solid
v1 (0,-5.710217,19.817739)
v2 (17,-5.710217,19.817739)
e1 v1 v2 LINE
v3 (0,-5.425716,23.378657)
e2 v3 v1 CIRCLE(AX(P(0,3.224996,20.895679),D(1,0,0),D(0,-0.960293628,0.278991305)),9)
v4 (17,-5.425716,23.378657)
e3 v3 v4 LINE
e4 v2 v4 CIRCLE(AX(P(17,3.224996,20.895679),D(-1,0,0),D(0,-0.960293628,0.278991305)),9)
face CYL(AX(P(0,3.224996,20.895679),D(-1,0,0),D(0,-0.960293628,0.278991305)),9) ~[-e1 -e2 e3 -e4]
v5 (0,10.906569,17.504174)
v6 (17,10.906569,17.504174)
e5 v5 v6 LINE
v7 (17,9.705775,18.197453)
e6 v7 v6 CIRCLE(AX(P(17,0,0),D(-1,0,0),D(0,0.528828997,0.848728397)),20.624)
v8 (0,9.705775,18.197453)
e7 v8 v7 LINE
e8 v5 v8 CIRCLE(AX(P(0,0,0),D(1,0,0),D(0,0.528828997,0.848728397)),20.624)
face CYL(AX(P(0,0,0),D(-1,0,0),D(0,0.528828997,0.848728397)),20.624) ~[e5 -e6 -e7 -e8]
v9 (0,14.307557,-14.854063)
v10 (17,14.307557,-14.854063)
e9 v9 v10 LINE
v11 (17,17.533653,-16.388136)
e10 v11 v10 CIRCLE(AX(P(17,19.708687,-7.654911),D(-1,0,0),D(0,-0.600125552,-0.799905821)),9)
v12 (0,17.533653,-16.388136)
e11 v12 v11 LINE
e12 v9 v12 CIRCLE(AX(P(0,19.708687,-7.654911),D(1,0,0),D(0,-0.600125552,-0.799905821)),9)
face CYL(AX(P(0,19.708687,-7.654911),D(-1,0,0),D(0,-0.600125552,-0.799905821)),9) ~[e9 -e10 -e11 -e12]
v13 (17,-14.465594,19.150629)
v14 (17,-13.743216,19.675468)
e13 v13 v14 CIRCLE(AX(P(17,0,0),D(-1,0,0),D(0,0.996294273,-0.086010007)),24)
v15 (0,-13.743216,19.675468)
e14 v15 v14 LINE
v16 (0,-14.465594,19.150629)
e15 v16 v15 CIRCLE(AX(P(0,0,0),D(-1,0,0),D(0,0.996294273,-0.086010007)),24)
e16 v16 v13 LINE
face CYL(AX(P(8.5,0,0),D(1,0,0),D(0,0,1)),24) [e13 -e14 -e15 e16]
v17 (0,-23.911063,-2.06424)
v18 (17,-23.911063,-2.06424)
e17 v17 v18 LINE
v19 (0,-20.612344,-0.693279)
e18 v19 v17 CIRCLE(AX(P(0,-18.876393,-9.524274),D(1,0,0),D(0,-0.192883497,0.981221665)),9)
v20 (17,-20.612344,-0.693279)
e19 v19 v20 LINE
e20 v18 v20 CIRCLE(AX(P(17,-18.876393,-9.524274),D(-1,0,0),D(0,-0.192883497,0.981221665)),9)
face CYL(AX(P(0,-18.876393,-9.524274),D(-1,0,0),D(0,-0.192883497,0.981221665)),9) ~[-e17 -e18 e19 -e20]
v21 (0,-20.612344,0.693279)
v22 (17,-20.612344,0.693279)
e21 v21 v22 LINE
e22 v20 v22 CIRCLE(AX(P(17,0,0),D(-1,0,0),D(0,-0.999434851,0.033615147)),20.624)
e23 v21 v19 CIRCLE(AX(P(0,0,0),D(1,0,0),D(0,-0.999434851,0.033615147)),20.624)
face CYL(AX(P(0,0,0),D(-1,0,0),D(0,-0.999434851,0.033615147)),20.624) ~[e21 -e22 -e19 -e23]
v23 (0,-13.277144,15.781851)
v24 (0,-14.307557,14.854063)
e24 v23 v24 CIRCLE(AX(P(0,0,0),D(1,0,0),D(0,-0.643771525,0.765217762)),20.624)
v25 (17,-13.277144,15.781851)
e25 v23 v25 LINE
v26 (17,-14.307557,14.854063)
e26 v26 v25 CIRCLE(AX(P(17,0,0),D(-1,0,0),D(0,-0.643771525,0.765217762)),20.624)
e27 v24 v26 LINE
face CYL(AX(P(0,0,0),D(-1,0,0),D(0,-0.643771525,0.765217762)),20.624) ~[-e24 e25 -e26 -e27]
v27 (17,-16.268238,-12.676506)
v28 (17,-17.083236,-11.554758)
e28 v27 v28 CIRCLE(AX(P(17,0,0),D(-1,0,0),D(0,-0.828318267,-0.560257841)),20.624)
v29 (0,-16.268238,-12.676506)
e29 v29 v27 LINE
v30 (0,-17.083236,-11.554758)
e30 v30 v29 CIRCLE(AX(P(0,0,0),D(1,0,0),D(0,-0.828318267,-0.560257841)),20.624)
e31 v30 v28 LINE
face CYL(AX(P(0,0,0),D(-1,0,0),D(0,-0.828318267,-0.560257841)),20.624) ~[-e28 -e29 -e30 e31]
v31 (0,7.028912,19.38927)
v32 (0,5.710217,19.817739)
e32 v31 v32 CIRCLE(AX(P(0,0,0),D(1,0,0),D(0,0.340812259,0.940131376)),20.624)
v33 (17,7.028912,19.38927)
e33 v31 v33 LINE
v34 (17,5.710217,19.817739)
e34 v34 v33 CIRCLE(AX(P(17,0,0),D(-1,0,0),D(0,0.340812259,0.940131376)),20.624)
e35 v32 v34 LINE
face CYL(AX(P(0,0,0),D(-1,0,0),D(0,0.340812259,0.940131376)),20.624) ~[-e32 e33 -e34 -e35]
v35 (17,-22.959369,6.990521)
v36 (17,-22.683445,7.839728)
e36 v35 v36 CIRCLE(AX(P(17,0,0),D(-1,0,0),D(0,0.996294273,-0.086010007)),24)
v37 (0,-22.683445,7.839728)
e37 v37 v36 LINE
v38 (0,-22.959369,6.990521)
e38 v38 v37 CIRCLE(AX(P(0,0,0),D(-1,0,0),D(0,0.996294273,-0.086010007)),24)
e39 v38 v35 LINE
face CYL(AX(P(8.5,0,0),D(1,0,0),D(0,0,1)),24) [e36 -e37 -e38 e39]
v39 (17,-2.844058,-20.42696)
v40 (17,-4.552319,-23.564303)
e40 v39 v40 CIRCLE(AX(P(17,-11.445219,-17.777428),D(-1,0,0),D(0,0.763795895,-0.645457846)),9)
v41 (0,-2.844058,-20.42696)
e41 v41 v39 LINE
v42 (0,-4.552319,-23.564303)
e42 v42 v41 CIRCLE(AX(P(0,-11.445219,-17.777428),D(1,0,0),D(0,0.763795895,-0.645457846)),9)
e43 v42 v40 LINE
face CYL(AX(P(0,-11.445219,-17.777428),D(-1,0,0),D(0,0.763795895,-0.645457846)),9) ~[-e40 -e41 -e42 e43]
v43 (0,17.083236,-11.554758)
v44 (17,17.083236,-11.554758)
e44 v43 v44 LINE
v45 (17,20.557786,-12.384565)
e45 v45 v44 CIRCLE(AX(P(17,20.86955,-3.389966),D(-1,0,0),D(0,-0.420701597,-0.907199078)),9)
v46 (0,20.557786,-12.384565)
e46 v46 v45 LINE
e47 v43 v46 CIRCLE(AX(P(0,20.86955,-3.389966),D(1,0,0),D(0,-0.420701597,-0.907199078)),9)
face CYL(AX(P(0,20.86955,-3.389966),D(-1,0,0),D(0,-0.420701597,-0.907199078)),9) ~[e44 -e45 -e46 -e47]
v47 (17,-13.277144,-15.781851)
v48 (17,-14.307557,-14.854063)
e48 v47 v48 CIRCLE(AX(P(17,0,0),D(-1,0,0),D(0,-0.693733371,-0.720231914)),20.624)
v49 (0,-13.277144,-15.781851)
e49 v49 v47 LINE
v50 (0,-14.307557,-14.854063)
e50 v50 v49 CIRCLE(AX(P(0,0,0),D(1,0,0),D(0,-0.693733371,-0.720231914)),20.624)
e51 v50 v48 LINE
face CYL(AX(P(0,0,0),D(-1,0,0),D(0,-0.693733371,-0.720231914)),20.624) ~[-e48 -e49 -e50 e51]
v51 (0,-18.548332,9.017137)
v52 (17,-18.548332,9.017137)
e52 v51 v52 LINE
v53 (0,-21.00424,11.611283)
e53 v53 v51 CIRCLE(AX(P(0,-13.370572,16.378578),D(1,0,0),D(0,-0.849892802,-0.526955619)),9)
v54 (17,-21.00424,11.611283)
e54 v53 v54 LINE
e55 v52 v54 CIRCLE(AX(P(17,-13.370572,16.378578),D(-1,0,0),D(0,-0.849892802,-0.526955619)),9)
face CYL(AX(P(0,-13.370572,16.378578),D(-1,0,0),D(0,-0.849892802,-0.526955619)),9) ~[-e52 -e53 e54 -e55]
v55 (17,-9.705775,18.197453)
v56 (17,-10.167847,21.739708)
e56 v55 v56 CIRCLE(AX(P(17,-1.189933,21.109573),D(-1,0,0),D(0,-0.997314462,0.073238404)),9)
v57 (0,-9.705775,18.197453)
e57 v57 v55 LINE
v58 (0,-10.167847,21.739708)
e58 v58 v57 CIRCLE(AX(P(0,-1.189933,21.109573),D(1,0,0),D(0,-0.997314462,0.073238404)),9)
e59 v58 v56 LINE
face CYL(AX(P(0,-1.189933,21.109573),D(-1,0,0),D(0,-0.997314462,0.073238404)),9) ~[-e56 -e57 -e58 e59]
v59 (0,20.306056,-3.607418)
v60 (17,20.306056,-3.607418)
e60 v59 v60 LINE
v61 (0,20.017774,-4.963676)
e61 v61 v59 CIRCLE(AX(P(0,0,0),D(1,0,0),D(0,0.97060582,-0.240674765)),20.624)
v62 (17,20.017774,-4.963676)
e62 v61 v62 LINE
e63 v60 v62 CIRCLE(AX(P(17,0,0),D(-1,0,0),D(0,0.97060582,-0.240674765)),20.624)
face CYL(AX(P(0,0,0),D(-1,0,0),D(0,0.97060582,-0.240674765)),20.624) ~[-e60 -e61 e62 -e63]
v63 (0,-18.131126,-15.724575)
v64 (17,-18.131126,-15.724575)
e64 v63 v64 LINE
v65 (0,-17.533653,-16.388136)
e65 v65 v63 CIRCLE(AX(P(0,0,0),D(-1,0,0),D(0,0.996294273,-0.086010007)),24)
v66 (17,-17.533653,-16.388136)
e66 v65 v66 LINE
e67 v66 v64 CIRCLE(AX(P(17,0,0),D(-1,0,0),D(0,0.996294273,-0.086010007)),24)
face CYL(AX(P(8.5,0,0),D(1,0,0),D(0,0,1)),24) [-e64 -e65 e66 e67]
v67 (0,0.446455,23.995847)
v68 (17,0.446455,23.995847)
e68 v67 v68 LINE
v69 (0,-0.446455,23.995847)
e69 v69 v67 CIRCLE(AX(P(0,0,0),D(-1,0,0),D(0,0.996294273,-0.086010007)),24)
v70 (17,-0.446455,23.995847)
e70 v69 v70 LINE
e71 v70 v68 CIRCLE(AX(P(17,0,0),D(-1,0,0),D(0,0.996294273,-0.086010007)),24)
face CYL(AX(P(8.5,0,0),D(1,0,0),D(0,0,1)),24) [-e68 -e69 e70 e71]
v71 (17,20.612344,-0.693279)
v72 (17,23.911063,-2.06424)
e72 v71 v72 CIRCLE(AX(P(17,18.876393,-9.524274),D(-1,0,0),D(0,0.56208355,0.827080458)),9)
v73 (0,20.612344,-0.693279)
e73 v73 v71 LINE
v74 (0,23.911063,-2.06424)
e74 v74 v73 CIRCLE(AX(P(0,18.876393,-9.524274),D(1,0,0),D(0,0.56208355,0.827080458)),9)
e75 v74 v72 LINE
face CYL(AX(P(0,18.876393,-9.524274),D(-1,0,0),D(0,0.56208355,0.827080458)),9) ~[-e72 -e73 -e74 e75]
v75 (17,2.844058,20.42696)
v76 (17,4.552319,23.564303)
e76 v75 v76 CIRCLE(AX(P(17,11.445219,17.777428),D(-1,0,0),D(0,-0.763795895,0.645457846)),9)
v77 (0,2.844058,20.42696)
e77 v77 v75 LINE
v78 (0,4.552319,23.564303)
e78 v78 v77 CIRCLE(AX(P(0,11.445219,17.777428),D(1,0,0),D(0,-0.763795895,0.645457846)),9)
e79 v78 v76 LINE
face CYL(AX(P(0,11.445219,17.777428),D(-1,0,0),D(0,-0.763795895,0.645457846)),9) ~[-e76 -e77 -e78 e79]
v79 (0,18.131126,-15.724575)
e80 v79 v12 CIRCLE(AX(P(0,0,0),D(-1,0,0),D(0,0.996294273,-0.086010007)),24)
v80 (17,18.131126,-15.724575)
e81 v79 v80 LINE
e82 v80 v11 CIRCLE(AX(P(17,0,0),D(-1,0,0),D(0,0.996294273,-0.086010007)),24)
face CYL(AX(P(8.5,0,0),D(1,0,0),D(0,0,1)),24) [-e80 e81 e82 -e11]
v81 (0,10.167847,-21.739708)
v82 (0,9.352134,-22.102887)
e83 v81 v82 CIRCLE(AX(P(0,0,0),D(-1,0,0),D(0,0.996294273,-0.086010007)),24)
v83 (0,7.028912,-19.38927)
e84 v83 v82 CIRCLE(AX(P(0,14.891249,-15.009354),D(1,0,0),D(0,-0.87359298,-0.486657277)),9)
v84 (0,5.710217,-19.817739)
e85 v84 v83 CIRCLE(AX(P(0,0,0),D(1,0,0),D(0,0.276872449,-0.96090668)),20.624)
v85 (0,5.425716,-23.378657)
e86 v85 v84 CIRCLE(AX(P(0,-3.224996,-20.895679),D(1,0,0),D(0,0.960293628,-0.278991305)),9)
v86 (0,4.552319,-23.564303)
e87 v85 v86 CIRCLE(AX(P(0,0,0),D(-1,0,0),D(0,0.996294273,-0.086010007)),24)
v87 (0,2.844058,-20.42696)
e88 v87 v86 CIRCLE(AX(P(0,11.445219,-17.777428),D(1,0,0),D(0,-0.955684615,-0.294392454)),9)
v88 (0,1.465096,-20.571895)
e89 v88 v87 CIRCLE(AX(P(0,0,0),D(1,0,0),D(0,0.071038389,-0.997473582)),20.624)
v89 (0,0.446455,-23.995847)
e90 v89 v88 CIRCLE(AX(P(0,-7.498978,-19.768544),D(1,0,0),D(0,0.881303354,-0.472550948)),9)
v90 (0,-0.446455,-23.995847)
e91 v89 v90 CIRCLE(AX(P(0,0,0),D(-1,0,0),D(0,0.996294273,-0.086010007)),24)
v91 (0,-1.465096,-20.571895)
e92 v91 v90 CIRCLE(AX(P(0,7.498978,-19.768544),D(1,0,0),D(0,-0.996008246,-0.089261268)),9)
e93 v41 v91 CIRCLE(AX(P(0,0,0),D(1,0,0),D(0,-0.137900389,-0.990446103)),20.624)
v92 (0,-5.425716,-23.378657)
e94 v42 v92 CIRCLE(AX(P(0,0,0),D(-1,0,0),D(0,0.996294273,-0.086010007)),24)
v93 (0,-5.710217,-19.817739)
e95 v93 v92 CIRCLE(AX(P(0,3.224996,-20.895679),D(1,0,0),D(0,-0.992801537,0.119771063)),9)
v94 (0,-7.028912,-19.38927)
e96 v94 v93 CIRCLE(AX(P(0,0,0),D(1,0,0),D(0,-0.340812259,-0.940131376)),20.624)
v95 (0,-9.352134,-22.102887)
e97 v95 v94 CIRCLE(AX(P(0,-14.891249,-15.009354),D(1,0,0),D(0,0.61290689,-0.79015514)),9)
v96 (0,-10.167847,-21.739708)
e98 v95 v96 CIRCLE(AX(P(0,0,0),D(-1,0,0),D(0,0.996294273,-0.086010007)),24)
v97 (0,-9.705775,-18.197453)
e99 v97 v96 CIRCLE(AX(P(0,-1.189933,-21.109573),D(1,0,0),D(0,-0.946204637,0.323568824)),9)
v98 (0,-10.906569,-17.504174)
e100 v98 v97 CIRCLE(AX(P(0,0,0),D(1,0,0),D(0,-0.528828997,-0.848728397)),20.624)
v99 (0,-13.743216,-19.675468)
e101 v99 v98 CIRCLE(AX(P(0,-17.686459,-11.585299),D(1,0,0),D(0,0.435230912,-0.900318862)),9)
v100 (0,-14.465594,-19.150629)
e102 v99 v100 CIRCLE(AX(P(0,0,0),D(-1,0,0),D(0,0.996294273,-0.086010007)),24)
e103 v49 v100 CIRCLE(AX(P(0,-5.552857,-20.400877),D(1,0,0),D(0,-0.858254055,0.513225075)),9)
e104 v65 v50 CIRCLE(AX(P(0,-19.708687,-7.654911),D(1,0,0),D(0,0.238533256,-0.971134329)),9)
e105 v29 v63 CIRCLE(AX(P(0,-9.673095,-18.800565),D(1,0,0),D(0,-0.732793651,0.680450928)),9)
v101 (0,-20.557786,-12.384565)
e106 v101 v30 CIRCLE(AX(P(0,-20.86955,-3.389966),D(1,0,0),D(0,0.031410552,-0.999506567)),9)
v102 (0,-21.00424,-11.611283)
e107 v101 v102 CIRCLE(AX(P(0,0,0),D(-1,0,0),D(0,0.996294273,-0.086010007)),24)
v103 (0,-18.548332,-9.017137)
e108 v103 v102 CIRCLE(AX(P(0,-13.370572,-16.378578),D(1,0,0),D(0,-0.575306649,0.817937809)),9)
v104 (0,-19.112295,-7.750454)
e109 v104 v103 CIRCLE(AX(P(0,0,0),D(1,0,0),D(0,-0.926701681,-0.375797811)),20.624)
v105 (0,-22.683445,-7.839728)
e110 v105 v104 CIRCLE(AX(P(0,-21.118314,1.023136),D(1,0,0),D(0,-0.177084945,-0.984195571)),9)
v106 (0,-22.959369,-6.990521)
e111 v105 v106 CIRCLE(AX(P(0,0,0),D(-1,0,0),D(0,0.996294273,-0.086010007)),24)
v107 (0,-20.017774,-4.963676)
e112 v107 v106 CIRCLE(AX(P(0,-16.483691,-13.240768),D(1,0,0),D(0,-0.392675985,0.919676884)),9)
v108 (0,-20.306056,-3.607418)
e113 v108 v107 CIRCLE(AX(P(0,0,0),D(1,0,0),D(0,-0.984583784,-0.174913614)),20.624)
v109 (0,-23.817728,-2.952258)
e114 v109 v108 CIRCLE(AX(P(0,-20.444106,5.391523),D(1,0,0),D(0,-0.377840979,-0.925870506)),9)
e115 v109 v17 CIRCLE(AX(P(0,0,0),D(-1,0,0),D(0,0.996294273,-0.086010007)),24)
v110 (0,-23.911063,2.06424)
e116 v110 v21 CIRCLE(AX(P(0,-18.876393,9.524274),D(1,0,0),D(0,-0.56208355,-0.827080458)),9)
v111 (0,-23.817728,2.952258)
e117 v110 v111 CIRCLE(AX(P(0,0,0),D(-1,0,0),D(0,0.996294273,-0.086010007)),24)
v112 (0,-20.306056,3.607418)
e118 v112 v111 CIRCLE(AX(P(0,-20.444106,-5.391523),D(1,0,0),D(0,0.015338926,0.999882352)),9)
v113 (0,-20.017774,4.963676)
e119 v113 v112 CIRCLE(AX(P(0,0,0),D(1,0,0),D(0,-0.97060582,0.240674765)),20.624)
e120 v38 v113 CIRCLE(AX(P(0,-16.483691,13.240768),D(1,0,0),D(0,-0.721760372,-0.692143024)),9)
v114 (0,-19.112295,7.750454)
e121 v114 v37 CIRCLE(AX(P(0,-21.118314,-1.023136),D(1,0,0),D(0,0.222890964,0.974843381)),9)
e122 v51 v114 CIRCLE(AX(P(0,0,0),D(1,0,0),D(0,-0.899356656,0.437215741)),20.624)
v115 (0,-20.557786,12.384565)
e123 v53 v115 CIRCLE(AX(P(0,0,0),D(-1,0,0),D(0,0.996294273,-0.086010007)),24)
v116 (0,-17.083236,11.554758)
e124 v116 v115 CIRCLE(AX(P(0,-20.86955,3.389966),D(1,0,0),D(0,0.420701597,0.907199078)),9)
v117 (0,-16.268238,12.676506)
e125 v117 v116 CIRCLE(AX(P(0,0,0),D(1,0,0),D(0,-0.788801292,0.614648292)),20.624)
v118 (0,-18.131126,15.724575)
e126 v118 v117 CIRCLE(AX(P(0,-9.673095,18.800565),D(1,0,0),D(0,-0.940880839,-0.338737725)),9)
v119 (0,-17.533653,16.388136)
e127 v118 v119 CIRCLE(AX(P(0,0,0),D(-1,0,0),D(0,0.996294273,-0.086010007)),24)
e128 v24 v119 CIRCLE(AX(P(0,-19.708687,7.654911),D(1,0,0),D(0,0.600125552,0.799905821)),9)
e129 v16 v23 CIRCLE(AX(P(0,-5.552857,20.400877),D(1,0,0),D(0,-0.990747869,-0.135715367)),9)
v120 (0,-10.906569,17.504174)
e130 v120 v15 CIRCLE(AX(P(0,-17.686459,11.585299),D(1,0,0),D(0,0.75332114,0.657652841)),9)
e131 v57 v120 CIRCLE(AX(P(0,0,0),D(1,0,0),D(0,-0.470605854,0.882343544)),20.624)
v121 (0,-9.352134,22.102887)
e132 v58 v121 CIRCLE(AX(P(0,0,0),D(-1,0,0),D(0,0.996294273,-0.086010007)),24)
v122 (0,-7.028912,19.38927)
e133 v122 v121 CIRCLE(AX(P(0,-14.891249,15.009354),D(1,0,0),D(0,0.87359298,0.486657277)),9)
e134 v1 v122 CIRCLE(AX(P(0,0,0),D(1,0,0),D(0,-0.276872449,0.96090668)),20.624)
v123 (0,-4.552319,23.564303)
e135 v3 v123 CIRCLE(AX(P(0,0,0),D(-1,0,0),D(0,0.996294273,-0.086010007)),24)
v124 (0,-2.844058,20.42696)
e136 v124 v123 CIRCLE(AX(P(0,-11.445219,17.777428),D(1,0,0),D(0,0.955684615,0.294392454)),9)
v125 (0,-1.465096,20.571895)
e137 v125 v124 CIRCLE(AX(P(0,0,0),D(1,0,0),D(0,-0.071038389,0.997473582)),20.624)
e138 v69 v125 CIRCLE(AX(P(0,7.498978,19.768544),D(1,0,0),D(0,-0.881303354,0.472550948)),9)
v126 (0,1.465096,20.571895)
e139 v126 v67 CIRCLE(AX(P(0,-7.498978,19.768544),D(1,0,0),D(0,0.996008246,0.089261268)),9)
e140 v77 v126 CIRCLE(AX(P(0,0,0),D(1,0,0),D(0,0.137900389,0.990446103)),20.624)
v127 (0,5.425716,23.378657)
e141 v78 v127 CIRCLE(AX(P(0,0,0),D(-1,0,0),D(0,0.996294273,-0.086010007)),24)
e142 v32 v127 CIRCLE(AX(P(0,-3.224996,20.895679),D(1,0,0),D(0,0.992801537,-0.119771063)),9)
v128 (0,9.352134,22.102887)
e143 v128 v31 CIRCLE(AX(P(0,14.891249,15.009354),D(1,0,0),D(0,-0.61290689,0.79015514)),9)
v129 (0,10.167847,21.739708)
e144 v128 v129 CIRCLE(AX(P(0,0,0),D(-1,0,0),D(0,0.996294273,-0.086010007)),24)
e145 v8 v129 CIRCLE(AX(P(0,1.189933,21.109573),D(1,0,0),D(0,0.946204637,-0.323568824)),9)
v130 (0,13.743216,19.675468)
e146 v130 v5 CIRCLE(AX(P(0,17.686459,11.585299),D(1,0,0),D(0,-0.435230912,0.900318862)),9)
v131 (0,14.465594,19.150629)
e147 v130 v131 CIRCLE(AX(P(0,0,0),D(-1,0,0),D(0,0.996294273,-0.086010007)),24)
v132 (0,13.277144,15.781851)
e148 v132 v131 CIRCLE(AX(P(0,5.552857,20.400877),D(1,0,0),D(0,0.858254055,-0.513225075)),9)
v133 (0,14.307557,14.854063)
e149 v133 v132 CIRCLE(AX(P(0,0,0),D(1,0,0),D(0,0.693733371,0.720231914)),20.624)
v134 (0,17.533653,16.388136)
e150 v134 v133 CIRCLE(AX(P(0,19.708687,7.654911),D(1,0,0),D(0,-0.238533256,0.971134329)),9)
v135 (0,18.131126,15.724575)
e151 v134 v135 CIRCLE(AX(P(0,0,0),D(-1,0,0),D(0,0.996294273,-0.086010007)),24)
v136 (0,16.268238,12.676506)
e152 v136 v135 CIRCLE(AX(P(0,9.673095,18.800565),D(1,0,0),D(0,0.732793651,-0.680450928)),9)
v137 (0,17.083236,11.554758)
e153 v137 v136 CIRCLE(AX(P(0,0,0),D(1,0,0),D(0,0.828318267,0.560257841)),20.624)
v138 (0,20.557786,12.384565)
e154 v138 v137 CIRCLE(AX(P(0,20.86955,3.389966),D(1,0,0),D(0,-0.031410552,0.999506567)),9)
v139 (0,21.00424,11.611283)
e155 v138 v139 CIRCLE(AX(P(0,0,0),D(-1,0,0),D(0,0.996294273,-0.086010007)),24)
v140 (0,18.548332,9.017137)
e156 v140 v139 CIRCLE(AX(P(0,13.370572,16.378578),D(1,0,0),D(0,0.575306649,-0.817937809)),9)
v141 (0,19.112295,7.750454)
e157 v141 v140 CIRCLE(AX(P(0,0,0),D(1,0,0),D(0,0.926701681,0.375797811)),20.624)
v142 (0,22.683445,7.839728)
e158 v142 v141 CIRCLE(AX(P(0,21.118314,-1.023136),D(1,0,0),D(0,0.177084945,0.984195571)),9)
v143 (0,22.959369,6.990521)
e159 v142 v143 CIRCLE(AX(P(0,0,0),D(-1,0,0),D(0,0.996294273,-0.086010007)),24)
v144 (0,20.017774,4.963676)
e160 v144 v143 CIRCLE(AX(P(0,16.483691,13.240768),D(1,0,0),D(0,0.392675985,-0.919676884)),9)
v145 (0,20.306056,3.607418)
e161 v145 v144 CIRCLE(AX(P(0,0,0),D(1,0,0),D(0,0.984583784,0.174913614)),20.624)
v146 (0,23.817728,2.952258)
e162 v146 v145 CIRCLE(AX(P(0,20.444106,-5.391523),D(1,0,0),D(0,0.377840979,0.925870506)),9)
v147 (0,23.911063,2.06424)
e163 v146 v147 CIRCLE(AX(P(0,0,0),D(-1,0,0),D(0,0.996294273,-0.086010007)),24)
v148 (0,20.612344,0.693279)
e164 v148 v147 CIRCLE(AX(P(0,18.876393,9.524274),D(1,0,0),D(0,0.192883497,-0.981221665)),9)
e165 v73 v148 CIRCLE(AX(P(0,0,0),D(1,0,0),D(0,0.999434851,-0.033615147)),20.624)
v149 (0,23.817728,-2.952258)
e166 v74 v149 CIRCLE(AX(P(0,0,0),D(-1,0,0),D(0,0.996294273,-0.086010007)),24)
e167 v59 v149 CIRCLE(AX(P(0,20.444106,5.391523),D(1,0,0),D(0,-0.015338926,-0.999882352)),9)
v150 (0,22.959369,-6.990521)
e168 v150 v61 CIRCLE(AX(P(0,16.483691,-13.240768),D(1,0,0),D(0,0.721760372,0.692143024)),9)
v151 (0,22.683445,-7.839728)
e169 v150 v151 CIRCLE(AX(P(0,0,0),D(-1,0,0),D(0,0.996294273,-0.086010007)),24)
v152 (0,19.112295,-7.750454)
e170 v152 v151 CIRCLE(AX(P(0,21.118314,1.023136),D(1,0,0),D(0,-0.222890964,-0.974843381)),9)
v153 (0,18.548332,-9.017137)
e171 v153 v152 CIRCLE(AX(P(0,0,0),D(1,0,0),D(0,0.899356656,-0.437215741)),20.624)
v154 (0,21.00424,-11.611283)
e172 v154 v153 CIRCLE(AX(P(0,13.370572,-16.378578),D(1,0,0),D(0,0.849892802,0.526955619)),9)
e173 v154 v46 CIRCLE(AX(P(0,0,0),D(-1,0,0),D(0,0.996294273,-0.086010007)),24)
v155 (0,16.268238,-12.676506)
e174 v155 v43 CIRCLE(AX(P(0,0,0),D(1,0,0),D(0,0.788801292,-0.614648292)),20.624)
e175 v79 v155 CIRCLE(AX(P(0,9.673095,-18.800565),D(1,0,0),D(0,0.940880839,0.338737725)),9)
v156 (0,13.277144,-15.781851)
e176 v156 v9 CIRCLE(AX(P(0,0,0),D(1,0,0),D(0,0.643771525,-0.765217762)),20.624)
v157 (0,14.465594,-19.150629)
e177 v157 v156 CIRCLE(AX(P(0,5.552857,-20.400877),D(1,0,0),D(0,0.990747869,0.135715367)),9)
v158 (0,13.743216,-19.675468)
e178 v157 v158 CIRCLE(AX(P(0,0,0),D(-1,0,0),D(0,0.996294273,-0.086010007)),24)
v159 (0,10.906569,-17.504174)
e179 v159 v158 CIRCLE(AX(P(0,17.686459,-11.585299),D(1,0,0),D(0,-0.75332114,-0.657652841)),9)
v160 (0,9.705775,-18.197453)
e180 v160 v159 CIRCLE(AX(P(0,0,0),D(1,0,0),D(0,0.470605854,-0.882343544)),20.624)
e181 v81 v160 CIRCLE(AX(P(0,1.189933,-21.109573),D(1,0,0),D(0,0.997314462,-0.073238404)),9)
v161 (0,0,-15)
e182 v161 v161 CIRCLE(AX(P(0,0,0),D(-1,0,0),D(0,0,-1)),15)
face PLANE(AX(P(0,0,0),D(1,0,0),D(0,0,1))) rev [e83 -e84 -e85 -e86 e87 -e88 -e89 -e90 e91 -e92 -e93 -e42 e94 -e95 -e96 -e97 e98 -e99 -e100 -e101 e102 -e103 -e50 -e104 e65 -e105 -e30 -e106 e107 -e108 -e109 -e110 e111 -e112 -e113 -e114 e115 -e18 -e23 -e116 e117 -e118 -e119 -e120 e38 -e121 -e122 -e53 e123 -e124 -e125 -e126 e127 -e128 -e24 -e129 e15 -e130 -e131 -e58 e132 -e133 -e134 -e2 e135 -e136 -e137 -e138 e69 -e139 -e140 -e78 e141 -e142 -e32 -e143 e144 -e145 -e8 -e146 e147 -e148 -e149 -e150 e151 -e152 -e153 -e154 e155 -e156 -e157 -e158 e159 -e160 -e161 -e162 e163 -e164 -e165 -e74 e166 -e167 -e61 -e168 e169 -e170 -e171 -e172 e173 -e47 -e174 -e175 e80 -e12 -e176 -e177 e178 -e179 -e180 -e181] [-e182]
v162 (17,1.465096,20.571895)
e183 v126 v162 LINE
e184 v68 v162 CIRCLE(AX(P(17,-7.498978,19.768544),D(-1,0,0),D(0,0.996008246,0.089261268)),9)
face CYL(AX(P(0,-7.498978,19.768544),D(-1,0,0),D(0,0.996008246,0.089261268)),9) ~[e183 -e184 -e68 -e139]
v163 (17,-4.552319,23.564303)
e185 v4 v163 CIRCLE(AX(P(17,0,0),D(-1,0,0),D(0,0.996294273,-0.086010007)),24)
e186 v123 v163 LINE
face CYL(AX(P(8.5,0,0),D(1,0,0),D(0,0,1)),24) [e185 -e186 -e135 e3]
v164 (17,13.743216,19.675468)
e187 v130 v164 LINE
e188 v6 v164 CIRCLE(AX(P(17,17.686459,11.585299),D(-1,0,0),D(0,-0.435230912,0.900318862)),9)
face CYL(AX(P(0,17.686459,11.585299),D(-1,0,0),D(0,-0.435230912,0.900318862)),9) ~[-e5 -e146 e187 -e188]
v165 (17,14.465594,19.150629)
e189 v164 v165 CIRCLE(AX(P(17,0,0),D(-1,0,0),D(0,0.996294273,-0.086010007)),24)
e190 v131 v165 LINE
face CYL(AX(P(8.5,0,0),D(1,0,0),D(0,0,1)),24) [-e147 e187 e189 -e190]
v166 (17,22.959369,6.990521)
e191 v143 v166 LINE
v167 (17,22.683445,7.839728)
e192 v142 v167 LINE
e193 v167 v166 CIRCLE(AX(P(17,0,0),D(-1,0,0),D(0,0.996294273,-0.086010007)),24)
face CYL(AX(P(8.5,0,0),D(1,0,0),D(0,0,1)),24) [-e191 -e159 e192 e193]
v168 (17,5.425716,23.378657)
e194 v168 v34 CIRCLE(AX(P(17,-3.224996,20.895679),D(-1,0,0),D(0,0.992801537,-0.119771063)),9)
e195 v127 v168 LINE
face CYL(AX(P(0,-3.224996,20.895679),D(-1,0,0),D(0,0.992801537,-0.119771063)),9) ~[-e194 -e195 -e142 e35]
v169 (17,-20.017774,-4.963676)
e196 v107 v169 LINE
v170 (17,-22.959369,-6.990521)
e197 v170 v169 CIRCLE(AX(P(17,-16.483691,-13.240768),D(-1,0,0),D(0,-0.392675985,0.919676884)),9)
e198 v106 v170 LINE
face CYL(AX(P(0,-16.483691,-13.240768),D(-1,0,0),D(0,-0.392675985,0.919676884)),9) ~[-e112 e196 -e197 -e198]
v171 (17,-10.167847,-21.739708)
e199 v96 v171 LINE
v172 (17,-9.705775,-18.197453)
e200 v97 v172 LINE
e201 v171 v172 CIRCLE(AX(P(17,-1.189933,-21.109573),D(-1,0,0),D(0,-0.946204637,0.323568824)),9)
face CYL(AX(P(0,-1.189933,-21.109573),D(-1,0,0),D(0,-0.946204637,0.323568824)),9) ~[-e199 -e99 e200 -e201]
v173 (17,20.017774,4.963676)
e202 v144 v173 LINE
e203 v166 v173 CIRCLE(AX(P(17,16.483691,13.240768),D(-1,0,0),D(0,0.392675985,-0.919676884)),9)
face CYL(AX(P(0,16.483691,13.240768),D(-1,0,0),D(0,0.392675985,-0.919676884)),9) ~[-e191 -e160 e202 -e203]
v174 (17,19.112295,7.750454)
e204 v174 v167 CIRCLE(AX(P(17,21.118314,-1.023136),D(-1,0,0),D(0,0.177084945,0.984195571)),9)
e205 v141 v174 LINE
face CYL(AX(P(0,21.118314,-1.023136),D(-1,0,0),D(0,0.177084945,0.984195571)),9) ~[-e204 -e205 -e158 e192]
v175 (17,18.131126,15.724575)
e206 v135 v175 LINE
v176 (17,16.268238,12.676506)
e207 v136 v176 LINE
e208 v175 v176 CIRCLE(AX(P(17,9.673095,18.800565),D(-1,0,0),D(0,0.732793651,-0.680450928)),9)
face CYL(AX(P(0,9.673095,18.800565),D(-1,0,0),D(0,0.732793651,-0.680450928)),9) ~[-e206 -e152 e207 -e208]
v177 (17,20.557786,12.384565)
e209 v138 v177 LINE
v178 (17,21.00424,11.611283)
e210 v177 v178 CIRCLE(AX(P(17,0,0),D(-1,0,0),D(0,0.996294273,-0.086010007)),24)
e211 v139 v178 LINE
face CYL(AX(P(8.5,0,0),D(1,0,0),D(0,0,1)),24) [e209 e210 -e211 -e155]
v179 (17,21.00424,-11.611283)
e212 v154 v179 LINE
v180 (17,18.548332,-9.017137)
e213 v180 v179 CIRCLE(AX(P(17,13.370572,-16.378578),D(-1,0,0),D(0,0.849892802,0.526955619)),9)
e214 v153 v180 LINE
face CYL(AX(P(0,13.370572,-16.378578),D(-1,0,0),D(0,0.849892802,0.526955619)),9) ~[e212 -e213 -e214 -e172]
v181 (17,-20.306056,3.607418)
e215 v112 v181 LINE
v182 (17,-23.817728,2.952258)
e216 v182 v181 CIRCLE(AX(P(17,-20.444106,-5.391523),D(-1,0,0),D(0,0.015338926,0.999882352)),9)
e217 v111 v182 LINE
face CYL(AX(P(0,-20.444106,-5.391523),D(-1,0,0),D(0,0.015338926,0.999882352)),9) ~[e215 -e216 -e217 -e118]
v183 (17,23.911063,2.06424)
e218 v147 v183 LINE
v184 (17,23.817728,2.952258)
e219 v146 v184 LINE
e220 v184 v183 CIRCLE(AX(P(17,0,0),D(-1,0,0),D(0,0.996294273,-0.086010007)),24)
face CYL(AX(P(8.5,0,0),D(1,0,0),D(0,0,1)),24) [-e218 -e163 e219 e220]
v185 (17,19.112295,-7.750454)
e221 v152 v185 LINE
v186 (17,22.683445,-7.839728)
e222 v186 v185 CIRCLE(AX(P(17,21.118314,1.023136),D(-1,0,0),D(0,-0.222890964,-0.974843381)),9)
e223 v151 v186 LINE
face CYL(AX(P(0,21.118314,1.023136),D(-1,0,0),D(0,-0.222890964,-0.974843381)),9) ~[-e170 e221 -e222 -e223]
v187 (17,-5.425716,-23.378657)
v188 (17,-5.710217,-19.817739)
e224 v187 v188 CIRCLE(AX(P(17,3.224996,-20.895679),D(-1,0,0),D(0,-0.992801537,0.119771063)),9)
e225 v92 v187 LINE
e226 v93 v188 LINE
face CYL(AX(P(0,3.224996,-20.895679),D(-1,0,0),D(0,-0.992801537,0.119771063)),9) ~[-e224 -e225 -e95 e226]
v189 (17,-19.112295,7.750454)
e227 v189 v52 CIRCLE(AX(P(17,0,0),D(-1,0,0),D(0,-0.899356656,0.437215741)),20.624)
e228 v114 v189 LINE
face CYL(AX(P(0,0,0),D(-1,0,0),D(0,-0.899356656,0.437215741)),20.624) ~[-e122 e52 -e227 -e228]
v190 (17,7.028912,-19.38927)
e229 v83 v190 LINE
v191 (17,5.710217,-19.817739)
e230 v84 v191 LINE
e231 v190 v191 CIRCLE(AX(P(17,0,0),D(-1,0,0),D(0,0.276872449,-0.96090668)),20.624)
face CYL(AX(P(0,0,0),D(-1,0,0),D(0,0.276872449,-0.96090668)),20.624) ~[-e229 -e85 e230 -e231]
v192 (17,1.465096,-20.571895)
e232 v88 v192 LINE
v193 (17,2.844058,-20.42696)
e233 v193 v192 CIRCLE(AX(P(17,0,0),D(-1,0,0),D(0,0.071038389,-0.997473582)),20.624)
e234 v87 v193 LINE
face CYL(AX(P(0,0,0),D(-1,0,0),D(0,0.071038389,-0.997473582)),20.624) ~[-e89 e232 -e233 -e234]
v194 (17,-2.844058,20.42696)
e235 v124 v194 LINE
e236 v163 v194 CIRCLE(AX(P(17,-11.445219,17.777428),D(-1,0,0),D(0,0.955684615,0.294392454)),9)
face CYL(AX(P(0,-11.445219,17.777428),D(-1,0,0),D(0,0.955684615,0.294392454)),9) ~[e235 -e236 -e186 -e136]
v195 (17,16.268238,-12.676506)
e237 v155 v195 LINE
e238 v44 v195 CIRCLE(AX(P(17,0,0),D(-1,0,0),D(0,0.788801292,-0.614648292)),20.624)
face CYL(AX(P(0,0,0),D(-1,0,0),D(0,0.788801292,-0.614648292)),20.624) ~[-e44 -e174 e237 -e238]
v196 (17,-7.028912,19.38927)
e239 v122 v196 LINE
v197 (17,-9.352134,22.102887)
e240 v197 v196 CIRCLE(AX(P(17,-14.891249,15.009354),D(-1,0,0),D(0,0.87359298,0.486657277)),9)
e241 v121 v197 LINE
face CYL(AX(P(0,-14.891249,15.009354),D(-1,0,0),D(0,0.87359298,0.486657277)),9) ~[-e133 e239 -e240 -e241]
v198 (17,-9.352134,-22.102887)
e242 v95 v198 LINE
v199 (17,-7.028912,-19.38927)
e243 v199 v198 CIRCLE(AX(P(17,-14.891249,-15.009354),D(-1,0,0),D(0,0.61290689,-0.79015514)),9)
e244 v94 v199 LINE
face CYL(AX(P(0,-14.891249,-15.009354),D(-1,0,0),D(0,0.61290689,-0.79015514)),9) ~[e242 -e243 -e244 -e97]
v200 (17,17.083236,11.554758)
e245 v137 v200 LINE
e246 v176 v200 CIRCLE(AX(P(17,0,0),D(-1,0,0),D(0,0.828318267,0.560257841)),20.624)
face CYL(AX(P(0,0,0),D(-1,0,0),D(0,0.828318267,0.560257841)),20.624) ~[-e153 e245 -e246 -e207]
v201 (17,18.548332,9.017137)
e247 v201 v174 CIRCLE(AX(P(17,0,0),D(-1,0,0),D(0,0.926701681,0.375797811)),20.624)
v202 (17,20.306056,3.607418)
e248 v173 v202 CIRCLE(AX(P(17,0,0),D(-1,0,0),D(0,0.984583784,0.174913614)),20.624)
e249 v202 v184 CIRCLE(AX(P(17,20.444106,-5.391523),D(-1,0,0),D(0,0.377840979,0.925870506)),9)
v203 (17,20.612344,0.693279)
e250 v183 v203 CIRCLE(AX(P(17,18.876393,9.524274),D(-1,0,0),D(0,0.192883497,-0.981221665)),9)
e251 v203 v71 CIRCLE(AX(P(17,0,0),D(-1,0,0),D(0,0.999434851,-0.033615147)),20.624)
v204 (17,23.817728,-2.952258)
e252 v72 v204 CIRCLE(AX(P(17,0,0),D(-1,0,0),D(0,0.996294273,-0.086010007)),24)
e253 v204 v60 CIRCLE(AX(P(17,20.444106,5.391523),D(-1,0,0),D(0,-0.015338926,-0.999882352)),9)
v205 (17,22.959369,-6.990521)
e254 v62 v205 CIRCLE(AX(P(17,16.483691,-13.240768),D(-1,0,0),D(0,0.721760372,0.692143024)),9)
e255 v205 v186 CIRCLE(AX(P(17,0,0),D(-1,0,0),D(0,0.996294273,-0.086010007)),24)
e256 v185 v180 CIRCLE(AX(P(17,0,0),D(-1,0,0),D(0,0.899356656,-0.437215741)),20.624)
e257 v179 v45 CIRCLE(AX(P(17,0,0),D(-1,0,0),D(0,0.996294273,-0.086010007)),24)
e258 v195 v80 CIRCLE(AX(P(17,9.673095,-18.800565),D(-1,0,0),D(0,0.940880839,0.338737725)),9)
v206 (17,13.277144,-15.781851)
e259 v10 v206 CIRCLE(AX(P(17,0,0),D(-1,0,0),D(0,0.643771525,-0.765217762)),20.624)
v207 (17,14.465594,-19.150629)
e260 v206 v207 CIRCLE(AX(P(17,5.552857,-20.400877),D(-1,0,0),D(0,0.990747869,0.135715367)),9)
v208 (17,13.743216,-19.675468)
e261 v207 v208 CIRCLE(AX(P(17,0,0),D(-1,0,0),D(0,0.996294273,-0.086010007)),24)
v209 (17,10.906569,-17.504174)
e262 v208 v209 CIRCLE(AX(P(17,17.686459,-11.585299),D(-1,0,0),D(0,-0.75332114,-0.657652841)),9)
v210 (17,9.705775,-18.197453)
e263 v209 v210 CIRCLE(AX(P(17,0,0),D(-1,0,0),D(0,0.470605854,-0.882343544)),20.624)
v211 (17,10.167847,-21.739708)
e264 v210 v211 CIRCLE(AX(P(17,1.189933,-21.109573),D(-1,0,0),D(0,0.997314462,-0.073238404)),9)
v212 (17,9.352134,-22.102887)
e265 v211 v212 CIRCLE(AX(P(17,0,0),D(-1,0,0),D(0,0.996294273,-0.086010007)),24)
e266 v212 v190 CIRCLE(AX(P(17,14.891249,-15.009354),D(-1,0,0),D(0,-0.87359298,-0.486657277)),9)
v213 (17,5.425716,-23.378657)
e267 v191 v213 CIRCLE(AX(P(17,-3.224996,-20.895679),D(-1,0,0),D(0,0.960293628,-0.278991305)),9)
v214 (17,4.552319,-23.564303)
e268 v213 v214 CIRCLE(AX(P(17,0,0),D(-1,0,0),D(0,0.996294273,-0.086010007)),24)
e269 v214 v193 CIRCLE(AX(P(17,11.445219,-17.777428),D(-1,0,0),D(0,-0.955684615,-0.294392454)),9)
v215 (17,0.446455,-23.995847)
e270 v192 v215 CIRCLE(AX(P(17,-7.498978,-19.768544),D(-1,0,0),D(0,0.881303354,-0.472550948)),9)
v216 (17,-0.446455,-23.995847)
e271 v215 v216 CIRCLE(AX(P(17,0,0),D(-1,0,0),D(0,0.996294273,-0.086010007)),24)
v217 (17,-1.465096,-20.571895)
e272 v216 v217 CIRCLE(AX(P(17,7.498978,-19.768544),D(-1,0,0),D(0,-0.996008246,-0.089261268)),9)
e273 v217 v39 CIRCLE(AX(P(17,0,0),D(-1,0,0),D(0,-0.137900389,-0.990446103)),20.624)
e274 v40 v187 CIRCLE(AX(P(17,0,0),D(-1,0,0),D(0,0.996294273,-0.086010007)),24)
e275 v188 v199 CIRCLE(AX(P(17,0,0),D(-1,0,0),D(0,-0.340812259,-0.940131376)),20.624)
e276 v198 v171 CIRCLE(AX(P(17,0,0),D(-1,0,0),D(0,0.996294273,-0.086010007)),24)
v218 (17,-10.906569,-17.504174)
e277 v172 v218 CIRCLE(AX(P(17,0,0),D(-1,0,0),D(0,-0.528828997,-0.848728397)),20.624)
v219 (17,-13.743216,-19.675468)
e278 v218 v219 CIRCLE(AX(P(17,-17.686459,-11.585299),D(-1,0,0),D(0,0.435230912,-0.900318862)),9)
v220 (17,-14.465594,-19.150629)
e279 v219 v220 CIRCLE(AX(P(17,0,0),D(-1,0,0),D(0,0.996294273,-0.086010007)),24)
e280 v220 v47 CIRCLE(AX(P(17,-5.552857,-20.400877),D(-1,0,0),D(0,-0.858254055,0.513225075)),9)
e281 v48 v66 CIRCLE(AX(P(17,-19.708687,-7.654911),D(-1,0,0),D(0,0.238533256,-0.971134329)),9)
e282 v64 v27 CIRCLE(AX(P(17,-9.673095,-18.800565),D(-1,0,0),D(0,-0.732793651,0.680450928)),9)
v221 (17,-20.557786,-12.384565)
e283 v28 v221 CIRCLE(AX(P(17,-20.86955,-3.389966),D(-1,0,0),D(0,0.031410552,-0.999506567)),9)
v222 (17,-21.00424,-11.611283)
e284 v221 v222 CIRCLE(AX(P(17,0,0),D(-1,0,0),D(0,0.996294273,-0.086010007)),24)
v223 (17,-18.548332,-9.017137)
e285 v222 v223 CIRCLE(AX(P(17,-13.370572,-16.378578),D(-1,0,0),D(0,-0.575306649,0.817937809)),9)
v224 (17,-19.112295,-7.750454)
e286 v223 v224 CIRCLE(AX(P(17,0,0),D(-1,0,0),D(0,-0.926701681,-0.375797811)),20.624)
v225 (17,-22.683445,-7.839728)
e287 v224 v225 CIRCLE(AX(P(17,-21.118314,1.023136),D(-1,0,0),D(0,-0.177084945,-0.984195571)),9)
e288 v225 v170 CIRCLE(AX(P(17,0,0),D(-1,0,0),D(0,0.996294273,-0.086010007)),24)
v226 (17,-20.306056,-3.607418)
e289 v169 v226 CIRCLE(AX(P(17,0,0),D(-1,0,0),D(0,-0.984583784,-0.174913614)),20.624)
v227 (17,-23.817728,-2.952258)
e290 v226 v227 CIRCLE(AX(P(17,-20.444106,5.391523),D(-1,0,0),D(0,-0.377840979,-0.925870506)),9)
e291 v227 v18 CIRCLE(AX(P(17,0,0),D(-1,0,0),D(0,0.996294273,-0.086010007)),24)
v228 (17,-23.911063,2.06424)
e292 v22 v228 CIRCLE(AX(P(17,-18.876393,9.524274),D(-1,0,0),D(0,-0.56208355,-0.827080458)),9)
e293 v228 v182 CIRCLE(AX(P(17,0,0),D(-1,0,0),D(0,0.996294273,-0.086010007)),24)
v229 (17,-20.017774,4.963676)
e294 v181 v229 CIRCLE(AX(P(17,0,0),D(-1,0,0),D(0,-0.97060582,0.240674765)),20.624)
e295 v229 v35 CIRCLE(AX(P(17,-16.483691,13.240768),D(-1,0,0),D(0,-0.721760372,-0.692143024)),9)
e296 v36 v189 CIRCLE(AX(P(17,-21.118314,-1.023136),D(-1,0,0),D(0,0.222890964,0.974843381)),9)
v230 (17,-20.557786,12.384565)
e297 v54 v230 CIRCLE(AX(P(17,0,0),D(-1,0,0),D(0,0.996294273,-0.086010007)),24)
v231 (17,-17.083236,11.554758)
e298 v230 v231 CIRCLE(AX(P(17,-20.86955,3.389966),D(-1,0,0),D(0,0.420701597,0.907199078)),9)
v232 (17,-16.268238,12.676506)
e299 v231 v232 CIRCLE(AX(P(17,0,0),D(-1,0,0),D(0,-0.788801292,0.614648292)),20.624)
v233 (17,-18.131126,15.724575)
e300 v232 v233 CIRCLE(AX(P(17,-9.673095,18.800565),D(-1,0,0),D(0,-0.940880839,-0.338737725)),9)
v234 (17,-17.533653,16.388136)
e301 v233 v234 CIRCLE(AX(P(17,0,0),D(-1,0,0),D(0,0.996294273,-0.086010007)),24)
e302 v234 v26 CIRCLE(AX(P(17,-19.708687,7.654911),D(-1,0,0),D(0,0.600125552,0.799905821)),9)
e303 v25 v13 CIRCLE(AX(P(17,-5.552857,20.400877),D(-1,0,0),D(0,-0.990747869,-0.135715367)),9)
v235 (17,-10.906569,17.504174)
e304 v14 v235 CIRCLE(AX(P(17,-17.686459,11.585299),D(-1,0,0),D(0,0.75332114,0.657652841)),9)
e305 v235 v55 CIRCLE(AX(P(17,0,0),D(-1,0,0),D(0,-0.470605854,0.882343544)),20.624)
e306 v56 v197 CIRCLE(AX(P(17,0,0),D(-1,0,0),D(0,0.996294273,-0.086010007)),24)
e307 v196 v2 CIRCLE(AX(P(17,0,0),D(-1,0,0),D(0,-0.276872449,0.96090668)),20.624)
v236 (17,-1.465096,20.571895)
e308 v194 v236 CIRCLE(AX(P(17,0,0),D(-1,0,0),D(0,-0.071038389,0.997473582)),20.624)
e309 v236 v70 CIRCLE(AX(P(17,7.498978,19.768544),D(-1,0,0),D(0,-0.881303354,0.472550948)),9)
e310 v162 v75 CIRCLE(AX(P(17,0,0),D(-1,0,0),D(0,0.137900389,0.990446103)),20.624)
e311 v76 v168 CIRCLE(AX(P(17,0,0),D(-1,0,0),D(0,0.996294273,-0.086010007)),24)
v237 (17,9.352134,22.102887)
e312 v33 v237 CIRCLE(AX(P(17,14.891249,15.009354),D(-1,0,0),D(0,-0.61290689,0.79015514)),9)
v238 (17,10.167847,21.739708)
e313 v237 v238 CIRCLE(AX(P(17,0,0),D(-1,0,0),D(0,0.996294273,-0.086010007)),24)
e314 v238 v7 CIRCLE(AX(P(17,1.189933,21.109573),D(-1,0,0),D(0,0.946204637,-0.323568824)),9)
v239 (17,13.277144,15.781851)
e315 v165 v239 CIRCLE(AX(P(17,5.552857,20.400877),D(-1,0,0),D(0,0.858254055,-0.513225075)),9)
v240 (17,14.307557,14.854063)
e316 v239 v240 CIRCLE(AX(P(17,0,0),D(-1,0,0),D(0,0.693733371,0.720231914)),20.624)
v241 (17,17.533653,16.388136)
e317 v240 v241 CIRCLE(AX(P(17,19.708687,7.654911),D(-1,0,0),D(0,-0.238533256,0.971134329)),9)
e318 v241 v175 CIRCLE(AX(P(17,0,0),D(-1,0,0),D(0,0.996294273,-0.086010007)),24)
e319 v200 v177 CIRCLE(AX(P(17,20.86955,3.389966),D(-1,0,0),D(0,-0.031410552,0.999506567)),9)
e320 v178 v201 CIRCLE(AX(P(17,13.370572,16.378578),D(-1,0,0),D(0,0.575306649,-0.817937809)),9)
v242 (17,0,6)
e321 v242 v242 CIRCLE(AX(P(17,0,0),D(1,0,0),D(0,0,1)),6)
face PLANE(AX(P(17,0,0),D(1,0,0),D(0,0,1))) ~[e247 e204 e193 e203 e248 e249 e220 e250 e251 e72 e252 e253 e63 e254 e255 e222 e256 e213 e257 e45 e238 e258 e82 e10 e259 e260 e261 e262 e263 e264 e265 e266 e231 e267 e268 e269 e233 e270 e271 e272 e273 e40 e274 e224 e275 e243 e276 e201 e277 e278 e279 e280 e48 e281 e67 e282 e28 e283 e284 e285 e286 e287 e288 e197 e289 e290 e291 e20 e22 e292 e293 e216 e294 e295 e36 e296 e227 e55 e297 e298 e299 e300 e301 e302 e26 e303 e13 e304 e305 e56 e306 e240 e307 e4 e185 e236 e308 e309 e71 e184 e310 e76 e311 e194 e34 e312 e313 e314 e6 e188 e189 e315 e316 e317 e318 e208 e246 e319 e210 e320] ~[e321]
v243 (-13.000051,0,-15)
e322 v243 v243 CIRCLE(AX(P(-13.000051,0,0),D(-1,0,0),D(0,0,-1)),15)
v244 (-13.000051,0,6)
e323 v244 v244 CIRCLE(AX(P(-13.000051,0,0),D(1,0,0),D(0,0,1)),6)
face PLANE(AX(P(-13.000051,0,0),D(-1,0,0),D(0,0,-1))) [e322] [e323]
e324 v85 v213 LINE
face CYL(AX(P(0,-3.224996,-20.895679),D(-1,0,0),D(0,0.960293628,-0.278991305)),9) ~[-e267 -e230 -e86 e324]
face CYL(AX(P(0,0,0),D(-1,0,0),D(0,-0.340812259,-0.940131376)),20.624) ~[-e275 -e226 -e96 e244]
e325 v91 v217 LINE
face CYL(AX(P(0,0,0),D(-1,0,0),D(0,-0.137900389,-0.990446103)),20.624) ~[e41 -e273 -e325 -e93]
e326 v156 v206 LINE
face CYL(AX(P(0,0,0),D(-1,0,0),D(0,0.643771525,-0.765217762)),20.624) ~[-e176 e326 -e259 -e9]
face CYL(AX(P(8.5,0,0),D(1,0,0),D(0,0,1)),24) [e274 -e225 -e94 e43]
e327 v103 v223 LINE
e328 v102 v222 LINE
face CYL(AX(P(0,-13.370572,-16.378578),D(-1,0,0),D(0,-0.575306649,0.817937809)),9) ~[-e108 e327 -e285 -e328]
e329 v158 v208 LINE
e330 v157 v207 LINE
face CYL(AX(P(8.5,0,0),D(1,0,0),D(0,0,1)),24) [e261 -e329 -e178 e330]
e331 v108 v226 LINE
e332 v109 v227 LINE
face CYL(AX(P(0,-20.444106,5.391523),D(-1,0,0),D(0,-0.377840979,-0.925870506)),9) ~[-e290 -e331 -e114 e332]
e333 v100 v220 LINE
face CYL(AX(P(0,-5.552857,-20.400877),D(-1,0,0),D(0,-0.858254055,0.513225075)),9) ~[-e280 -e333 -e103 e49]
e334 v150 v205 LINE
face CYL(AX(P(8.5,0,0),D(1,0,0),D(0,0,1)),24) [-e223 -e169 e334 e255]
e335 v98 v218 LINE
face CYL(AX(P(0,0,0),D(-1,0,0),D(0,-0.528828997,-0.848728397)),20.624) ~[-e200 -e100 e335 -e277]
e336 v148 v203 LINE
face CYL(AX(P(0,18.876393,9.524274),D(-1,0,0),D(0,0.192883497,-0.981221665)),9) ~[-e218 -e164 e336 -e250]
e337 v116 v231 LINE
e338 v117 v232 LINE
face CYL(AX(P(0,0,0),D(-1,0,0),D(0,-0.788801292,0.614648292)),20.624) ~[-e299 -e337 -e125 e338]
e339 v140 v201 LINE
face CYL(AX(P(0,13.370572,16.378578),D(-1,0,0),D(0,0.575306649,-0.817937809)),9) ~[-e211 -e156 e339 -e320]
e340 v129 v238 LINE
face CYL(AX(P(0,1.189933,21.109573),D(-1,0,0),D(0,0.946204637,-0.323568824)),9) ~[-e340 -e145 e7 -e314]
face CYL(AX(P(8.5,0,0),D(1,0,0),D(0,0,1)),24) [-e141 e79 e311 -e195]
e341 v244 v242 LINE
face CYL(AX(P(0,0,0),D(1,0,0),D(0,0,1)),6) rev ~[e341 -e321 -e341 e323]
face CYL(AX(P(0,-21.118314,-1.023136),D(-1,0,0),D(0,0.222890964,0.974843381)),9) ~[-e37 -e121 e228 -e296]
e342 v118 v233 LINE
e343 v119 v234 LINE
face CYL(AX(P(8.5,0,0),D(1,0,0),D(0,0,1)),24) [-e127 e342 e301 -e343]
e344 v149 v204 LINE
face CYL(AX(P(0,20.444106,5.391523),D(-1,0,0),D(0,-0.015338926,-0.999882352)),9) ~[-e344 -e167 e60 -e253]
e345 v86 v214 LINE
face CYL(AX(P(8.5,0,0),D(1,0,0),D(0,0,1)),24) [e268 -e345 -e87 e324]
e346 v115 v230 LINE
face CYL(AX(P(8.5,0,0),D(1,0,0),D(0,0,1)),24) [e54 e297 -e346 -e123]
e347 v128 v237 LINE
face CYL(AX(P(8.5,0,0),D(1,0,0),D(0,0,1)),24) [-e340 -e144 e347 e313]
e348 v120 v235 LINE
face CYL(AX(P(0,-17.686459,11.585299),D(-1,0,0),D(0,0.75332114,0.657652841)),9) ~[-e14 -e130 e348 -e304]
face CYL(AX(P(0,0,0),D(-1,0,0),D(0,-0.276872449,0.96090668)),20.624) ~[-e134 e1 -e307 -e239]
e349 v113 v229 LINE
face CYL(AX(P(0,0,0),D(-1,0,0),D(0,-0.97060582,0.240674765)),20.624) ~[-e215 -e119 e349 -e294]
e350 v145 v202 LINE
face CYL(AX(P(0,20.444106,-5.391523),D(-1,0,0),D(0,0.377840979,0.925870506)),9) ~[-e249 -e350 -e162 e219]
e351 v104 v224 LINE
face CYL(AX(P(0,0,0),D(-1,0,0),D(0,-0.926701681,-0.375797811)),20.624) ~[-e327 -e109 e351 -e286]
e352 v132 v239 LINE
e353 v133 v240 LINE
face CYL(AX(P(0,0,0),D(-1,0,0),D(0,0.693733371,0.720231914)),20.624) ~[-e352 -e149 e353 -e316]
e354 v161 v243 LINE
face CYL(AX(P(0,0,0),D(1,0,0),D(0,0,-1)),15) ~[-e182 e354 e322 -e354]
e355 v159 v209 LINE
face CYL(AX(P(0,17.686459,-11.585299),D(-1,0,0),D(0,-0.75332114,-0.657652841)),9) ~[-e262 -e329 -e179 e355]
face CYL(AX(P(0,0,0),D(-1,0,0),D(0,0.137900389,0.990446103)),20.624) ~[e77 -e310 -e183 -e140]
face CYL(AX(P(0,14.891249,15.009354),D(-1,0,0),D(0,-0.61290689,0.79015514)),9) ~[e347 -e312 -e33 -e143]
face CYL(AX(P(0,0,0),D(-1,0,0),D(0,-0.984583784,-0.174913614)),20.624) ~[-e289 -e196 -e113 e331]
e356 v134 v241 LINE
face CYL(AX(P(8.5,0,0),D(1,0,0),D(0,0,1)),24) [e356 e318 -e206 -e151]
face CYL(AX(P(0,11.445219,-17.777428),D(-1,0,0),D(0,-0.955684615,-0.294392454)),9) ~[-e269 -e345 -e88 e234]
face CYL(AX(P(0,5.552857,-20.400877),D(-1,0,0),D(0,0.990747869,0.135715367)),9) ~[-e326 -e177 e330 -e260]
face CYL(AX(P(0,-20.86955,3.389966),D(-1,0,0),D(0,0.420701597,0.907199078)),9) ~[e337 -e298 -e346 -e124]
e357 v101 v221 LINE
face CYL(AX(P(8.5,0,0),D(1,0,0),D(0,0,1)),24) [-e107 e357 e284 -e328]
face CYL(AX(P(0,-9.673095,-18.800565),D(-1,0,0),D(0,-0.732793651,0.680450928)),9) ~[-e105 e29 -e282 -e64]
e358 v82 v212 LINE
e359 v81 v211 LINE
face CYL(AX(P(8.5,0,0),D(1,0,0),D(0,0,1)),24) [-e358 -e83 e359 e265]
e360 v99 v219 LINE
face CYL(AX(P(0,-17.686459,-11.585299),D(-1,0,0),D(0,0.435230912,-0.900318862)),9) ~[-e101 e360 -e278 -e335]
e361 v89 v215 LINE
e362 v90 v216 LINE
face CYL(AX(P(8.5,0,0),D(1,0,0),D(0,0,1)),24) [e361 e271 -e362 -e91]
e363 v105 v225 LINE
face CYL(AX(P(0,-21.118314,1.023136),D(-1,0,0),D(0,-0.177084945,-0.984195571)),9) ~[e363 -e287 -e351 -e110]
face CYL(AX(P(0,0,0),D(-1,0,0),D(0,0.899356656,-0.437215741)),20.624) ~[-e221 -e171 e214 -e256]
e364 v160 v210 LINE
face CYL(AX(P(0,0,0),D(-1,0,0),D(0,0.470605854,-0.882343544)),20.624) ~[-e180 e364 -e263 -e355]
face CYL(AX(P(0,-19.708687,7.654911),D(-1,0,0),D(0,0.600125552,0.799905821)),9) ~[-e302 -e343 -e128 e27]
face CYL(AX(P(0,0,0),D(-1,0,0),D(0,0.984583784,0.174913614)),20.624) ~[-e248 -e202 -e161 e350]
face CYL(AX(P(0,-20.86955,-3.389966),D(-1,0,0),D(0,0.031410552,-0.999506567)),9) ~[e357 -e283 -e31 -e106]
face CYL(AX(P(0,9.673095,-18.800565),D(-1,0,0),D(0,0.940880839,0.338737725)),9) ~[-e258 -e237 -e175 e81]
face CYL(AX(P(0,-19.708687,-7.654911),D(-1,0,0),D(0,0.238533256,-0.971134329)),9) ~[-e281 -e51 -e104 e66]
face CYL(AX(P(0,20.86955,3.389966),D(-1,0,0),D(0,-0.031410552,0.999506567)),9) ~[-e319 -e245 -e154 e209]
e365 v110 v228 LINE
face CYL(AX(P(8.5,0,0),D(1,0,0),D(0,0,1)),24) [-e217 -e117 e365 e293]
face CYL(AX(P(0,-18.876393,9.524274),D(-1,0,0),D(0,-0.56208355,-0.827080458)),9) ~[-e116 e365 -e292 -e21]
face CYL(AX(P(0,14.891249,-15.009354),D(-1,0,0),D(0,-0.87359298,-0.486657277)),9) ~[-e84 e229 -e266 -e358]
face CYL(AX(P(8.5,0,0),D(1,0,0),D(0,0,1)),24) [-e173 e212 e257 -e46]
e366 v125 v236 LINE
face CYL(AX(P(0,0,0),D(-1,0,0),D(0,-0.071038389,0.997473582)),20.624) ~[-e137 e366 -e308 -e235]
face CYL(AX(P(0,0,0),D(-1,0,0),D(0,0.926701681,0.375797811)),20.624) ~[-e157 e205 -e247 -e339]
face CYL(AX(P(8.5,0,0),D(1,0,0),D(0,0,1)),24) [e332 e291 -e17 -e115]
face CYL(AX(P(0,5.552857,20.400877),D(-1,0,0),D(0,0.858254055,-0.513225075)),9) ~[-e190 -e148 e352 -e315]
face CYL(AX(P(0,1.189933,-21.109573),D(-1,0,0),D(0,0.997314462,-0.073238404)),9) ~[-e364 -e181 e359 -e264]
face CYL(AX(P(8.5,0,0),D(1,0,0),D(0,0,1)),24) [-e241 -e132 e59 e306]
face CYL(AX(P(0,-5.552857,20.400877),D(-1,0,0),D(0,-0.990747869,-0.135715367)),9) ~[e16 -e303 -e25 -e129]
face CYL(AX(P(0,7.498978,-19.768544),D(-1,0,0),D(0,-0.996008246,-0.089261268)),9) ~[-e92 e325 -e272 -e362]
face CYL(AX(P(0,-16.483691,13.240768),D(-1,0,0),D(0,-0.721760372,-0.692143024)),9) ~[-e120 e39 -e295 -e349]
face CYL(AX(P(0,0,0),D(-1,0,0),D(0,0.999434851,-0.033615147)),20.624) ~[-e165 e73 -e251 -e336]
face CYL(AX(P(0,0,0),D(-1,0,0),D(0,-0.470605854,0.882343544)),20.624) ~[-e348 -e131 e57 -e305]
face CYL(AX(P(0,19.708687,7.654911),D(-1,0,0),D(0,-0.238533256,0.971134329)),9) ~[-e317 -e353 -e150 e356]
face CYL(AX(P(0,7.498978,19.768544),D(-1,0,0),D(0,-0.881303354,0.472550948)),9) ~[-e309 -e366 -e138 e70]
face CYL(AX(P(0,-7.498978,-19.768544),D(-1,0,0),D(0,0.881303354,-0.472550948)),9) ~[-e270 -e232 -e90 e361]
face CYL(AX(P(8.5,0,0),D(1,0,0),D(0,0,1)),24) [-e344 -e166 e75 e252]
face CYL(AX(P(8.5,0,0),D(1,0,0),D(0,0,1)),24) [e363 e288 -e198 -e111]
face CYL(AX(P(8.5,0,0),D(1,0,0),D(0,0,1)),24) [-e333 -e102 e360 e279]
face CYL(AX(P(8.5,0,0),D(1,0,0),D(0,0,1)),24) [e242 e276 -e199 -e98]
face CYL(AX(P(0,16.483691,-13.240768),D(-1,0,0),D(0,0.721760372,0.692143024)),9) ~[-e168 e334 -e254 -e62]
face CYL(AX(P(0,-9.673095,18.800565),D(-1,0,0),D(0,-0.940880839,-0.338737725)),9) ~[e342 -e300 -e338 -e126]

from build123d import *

# Parameters (mm, degrees)
BASPROSKE_W      = 17
BASPROSKE_H      = 24
TOOTHCUT_DEPTH   = 38.960505792
TEETHCUTS_COUNT  = 30
TEETHCUTS_ANGLE  = 348
HUBNEAONESKE_R   = 15
HUBNEARONE_DEPTH = 13.0000508
BORSKE_R         = 6
BORE_DEPTH       = 30.0000508


with BuildPart() as part:
    # BasProSke → Base-Revolve (revolve)
    with BuildSketch(Plane(origin=(0, 0, 0), x_dir=(1, 0, 0), z_dir=(0, 1, 0)), mode=Mode.PRIVATE) as base_revolve_sk:
        with Locations((8.5, 12)):
            Rectangle(BASPROSKE_W, BASPROSKE_H)
    revolve(base_revolve_sk.sketch.rotate(Axis((-10, 0, 0), (1, 0, 0)), 180), axis=Axis((-10, 0, 0), (1, 0, 0)))

    # TooCutSke → ToothCut (cut, through all)
    with BuildSketch(Plane(origin=(0, 0, 0), x_dir=(0, 0, -1), z_dir=(1, 0, 0))):
        with BuildLine():
            ThreePointArc((0.693278797, 20.612344372), (0, 20.624), (-0.693278797, 20.612344372))
            ThreePointArc((-0.693278797, 20.612344372), (-1.219042225, 22.34383125), (-2.080549663, 23.935144835))
            ThreePointArc((-2.080549663, 23.935144835), (0, 24.0254), (2.080549663, 23.935144835))
            ThreePointArc((2.080549663, 23.935144835), (1.219042225, 22.34383125), (0.693278797, 20.612344372))
        make_face()
    toothcut = extrude(amount=TOOTHCUT_DEPTH, mode=Mode.SUBTRACT)

    # TeethCuts: ToothCut ×30 about axis
    teethcuts_axis = Axis((-10, 0, 0), (1, 0, 0))
    for i in range(1, TEETHCUTS_COUNT):
        add(toothcut.rotate(teethcuts_axis, i * TEETHCUTS_ANGLE / (TEETHCUTS_COUNT - 1)), mode=Mode.SUBTRACT)

    # HubNeaOneSke → HubNearOne (add)
    with BuildSketch(Plane.ZY):
        with Locations(Location((0, 0, 0), (0, 0, 180))):
            Circle(HUBNEAONESKE_R)
    extrude(amount=HUBNEARONE_DEPTH)

    # BorSke → Bore (cut, symmetric)
    with BuildSketch(Plane(origin=(0, 0, 0), x_dir=(0, 0, -1), z_dir=(1, 0, 0))):
        with Locations(Location((0, 0, 0), (0, 0, 180))):
            Circle(BORSKE_R)
    extrude(amount=BORE_DEPTH, both=True, mode=Mode.SUBTRACT)


solid = part.part
